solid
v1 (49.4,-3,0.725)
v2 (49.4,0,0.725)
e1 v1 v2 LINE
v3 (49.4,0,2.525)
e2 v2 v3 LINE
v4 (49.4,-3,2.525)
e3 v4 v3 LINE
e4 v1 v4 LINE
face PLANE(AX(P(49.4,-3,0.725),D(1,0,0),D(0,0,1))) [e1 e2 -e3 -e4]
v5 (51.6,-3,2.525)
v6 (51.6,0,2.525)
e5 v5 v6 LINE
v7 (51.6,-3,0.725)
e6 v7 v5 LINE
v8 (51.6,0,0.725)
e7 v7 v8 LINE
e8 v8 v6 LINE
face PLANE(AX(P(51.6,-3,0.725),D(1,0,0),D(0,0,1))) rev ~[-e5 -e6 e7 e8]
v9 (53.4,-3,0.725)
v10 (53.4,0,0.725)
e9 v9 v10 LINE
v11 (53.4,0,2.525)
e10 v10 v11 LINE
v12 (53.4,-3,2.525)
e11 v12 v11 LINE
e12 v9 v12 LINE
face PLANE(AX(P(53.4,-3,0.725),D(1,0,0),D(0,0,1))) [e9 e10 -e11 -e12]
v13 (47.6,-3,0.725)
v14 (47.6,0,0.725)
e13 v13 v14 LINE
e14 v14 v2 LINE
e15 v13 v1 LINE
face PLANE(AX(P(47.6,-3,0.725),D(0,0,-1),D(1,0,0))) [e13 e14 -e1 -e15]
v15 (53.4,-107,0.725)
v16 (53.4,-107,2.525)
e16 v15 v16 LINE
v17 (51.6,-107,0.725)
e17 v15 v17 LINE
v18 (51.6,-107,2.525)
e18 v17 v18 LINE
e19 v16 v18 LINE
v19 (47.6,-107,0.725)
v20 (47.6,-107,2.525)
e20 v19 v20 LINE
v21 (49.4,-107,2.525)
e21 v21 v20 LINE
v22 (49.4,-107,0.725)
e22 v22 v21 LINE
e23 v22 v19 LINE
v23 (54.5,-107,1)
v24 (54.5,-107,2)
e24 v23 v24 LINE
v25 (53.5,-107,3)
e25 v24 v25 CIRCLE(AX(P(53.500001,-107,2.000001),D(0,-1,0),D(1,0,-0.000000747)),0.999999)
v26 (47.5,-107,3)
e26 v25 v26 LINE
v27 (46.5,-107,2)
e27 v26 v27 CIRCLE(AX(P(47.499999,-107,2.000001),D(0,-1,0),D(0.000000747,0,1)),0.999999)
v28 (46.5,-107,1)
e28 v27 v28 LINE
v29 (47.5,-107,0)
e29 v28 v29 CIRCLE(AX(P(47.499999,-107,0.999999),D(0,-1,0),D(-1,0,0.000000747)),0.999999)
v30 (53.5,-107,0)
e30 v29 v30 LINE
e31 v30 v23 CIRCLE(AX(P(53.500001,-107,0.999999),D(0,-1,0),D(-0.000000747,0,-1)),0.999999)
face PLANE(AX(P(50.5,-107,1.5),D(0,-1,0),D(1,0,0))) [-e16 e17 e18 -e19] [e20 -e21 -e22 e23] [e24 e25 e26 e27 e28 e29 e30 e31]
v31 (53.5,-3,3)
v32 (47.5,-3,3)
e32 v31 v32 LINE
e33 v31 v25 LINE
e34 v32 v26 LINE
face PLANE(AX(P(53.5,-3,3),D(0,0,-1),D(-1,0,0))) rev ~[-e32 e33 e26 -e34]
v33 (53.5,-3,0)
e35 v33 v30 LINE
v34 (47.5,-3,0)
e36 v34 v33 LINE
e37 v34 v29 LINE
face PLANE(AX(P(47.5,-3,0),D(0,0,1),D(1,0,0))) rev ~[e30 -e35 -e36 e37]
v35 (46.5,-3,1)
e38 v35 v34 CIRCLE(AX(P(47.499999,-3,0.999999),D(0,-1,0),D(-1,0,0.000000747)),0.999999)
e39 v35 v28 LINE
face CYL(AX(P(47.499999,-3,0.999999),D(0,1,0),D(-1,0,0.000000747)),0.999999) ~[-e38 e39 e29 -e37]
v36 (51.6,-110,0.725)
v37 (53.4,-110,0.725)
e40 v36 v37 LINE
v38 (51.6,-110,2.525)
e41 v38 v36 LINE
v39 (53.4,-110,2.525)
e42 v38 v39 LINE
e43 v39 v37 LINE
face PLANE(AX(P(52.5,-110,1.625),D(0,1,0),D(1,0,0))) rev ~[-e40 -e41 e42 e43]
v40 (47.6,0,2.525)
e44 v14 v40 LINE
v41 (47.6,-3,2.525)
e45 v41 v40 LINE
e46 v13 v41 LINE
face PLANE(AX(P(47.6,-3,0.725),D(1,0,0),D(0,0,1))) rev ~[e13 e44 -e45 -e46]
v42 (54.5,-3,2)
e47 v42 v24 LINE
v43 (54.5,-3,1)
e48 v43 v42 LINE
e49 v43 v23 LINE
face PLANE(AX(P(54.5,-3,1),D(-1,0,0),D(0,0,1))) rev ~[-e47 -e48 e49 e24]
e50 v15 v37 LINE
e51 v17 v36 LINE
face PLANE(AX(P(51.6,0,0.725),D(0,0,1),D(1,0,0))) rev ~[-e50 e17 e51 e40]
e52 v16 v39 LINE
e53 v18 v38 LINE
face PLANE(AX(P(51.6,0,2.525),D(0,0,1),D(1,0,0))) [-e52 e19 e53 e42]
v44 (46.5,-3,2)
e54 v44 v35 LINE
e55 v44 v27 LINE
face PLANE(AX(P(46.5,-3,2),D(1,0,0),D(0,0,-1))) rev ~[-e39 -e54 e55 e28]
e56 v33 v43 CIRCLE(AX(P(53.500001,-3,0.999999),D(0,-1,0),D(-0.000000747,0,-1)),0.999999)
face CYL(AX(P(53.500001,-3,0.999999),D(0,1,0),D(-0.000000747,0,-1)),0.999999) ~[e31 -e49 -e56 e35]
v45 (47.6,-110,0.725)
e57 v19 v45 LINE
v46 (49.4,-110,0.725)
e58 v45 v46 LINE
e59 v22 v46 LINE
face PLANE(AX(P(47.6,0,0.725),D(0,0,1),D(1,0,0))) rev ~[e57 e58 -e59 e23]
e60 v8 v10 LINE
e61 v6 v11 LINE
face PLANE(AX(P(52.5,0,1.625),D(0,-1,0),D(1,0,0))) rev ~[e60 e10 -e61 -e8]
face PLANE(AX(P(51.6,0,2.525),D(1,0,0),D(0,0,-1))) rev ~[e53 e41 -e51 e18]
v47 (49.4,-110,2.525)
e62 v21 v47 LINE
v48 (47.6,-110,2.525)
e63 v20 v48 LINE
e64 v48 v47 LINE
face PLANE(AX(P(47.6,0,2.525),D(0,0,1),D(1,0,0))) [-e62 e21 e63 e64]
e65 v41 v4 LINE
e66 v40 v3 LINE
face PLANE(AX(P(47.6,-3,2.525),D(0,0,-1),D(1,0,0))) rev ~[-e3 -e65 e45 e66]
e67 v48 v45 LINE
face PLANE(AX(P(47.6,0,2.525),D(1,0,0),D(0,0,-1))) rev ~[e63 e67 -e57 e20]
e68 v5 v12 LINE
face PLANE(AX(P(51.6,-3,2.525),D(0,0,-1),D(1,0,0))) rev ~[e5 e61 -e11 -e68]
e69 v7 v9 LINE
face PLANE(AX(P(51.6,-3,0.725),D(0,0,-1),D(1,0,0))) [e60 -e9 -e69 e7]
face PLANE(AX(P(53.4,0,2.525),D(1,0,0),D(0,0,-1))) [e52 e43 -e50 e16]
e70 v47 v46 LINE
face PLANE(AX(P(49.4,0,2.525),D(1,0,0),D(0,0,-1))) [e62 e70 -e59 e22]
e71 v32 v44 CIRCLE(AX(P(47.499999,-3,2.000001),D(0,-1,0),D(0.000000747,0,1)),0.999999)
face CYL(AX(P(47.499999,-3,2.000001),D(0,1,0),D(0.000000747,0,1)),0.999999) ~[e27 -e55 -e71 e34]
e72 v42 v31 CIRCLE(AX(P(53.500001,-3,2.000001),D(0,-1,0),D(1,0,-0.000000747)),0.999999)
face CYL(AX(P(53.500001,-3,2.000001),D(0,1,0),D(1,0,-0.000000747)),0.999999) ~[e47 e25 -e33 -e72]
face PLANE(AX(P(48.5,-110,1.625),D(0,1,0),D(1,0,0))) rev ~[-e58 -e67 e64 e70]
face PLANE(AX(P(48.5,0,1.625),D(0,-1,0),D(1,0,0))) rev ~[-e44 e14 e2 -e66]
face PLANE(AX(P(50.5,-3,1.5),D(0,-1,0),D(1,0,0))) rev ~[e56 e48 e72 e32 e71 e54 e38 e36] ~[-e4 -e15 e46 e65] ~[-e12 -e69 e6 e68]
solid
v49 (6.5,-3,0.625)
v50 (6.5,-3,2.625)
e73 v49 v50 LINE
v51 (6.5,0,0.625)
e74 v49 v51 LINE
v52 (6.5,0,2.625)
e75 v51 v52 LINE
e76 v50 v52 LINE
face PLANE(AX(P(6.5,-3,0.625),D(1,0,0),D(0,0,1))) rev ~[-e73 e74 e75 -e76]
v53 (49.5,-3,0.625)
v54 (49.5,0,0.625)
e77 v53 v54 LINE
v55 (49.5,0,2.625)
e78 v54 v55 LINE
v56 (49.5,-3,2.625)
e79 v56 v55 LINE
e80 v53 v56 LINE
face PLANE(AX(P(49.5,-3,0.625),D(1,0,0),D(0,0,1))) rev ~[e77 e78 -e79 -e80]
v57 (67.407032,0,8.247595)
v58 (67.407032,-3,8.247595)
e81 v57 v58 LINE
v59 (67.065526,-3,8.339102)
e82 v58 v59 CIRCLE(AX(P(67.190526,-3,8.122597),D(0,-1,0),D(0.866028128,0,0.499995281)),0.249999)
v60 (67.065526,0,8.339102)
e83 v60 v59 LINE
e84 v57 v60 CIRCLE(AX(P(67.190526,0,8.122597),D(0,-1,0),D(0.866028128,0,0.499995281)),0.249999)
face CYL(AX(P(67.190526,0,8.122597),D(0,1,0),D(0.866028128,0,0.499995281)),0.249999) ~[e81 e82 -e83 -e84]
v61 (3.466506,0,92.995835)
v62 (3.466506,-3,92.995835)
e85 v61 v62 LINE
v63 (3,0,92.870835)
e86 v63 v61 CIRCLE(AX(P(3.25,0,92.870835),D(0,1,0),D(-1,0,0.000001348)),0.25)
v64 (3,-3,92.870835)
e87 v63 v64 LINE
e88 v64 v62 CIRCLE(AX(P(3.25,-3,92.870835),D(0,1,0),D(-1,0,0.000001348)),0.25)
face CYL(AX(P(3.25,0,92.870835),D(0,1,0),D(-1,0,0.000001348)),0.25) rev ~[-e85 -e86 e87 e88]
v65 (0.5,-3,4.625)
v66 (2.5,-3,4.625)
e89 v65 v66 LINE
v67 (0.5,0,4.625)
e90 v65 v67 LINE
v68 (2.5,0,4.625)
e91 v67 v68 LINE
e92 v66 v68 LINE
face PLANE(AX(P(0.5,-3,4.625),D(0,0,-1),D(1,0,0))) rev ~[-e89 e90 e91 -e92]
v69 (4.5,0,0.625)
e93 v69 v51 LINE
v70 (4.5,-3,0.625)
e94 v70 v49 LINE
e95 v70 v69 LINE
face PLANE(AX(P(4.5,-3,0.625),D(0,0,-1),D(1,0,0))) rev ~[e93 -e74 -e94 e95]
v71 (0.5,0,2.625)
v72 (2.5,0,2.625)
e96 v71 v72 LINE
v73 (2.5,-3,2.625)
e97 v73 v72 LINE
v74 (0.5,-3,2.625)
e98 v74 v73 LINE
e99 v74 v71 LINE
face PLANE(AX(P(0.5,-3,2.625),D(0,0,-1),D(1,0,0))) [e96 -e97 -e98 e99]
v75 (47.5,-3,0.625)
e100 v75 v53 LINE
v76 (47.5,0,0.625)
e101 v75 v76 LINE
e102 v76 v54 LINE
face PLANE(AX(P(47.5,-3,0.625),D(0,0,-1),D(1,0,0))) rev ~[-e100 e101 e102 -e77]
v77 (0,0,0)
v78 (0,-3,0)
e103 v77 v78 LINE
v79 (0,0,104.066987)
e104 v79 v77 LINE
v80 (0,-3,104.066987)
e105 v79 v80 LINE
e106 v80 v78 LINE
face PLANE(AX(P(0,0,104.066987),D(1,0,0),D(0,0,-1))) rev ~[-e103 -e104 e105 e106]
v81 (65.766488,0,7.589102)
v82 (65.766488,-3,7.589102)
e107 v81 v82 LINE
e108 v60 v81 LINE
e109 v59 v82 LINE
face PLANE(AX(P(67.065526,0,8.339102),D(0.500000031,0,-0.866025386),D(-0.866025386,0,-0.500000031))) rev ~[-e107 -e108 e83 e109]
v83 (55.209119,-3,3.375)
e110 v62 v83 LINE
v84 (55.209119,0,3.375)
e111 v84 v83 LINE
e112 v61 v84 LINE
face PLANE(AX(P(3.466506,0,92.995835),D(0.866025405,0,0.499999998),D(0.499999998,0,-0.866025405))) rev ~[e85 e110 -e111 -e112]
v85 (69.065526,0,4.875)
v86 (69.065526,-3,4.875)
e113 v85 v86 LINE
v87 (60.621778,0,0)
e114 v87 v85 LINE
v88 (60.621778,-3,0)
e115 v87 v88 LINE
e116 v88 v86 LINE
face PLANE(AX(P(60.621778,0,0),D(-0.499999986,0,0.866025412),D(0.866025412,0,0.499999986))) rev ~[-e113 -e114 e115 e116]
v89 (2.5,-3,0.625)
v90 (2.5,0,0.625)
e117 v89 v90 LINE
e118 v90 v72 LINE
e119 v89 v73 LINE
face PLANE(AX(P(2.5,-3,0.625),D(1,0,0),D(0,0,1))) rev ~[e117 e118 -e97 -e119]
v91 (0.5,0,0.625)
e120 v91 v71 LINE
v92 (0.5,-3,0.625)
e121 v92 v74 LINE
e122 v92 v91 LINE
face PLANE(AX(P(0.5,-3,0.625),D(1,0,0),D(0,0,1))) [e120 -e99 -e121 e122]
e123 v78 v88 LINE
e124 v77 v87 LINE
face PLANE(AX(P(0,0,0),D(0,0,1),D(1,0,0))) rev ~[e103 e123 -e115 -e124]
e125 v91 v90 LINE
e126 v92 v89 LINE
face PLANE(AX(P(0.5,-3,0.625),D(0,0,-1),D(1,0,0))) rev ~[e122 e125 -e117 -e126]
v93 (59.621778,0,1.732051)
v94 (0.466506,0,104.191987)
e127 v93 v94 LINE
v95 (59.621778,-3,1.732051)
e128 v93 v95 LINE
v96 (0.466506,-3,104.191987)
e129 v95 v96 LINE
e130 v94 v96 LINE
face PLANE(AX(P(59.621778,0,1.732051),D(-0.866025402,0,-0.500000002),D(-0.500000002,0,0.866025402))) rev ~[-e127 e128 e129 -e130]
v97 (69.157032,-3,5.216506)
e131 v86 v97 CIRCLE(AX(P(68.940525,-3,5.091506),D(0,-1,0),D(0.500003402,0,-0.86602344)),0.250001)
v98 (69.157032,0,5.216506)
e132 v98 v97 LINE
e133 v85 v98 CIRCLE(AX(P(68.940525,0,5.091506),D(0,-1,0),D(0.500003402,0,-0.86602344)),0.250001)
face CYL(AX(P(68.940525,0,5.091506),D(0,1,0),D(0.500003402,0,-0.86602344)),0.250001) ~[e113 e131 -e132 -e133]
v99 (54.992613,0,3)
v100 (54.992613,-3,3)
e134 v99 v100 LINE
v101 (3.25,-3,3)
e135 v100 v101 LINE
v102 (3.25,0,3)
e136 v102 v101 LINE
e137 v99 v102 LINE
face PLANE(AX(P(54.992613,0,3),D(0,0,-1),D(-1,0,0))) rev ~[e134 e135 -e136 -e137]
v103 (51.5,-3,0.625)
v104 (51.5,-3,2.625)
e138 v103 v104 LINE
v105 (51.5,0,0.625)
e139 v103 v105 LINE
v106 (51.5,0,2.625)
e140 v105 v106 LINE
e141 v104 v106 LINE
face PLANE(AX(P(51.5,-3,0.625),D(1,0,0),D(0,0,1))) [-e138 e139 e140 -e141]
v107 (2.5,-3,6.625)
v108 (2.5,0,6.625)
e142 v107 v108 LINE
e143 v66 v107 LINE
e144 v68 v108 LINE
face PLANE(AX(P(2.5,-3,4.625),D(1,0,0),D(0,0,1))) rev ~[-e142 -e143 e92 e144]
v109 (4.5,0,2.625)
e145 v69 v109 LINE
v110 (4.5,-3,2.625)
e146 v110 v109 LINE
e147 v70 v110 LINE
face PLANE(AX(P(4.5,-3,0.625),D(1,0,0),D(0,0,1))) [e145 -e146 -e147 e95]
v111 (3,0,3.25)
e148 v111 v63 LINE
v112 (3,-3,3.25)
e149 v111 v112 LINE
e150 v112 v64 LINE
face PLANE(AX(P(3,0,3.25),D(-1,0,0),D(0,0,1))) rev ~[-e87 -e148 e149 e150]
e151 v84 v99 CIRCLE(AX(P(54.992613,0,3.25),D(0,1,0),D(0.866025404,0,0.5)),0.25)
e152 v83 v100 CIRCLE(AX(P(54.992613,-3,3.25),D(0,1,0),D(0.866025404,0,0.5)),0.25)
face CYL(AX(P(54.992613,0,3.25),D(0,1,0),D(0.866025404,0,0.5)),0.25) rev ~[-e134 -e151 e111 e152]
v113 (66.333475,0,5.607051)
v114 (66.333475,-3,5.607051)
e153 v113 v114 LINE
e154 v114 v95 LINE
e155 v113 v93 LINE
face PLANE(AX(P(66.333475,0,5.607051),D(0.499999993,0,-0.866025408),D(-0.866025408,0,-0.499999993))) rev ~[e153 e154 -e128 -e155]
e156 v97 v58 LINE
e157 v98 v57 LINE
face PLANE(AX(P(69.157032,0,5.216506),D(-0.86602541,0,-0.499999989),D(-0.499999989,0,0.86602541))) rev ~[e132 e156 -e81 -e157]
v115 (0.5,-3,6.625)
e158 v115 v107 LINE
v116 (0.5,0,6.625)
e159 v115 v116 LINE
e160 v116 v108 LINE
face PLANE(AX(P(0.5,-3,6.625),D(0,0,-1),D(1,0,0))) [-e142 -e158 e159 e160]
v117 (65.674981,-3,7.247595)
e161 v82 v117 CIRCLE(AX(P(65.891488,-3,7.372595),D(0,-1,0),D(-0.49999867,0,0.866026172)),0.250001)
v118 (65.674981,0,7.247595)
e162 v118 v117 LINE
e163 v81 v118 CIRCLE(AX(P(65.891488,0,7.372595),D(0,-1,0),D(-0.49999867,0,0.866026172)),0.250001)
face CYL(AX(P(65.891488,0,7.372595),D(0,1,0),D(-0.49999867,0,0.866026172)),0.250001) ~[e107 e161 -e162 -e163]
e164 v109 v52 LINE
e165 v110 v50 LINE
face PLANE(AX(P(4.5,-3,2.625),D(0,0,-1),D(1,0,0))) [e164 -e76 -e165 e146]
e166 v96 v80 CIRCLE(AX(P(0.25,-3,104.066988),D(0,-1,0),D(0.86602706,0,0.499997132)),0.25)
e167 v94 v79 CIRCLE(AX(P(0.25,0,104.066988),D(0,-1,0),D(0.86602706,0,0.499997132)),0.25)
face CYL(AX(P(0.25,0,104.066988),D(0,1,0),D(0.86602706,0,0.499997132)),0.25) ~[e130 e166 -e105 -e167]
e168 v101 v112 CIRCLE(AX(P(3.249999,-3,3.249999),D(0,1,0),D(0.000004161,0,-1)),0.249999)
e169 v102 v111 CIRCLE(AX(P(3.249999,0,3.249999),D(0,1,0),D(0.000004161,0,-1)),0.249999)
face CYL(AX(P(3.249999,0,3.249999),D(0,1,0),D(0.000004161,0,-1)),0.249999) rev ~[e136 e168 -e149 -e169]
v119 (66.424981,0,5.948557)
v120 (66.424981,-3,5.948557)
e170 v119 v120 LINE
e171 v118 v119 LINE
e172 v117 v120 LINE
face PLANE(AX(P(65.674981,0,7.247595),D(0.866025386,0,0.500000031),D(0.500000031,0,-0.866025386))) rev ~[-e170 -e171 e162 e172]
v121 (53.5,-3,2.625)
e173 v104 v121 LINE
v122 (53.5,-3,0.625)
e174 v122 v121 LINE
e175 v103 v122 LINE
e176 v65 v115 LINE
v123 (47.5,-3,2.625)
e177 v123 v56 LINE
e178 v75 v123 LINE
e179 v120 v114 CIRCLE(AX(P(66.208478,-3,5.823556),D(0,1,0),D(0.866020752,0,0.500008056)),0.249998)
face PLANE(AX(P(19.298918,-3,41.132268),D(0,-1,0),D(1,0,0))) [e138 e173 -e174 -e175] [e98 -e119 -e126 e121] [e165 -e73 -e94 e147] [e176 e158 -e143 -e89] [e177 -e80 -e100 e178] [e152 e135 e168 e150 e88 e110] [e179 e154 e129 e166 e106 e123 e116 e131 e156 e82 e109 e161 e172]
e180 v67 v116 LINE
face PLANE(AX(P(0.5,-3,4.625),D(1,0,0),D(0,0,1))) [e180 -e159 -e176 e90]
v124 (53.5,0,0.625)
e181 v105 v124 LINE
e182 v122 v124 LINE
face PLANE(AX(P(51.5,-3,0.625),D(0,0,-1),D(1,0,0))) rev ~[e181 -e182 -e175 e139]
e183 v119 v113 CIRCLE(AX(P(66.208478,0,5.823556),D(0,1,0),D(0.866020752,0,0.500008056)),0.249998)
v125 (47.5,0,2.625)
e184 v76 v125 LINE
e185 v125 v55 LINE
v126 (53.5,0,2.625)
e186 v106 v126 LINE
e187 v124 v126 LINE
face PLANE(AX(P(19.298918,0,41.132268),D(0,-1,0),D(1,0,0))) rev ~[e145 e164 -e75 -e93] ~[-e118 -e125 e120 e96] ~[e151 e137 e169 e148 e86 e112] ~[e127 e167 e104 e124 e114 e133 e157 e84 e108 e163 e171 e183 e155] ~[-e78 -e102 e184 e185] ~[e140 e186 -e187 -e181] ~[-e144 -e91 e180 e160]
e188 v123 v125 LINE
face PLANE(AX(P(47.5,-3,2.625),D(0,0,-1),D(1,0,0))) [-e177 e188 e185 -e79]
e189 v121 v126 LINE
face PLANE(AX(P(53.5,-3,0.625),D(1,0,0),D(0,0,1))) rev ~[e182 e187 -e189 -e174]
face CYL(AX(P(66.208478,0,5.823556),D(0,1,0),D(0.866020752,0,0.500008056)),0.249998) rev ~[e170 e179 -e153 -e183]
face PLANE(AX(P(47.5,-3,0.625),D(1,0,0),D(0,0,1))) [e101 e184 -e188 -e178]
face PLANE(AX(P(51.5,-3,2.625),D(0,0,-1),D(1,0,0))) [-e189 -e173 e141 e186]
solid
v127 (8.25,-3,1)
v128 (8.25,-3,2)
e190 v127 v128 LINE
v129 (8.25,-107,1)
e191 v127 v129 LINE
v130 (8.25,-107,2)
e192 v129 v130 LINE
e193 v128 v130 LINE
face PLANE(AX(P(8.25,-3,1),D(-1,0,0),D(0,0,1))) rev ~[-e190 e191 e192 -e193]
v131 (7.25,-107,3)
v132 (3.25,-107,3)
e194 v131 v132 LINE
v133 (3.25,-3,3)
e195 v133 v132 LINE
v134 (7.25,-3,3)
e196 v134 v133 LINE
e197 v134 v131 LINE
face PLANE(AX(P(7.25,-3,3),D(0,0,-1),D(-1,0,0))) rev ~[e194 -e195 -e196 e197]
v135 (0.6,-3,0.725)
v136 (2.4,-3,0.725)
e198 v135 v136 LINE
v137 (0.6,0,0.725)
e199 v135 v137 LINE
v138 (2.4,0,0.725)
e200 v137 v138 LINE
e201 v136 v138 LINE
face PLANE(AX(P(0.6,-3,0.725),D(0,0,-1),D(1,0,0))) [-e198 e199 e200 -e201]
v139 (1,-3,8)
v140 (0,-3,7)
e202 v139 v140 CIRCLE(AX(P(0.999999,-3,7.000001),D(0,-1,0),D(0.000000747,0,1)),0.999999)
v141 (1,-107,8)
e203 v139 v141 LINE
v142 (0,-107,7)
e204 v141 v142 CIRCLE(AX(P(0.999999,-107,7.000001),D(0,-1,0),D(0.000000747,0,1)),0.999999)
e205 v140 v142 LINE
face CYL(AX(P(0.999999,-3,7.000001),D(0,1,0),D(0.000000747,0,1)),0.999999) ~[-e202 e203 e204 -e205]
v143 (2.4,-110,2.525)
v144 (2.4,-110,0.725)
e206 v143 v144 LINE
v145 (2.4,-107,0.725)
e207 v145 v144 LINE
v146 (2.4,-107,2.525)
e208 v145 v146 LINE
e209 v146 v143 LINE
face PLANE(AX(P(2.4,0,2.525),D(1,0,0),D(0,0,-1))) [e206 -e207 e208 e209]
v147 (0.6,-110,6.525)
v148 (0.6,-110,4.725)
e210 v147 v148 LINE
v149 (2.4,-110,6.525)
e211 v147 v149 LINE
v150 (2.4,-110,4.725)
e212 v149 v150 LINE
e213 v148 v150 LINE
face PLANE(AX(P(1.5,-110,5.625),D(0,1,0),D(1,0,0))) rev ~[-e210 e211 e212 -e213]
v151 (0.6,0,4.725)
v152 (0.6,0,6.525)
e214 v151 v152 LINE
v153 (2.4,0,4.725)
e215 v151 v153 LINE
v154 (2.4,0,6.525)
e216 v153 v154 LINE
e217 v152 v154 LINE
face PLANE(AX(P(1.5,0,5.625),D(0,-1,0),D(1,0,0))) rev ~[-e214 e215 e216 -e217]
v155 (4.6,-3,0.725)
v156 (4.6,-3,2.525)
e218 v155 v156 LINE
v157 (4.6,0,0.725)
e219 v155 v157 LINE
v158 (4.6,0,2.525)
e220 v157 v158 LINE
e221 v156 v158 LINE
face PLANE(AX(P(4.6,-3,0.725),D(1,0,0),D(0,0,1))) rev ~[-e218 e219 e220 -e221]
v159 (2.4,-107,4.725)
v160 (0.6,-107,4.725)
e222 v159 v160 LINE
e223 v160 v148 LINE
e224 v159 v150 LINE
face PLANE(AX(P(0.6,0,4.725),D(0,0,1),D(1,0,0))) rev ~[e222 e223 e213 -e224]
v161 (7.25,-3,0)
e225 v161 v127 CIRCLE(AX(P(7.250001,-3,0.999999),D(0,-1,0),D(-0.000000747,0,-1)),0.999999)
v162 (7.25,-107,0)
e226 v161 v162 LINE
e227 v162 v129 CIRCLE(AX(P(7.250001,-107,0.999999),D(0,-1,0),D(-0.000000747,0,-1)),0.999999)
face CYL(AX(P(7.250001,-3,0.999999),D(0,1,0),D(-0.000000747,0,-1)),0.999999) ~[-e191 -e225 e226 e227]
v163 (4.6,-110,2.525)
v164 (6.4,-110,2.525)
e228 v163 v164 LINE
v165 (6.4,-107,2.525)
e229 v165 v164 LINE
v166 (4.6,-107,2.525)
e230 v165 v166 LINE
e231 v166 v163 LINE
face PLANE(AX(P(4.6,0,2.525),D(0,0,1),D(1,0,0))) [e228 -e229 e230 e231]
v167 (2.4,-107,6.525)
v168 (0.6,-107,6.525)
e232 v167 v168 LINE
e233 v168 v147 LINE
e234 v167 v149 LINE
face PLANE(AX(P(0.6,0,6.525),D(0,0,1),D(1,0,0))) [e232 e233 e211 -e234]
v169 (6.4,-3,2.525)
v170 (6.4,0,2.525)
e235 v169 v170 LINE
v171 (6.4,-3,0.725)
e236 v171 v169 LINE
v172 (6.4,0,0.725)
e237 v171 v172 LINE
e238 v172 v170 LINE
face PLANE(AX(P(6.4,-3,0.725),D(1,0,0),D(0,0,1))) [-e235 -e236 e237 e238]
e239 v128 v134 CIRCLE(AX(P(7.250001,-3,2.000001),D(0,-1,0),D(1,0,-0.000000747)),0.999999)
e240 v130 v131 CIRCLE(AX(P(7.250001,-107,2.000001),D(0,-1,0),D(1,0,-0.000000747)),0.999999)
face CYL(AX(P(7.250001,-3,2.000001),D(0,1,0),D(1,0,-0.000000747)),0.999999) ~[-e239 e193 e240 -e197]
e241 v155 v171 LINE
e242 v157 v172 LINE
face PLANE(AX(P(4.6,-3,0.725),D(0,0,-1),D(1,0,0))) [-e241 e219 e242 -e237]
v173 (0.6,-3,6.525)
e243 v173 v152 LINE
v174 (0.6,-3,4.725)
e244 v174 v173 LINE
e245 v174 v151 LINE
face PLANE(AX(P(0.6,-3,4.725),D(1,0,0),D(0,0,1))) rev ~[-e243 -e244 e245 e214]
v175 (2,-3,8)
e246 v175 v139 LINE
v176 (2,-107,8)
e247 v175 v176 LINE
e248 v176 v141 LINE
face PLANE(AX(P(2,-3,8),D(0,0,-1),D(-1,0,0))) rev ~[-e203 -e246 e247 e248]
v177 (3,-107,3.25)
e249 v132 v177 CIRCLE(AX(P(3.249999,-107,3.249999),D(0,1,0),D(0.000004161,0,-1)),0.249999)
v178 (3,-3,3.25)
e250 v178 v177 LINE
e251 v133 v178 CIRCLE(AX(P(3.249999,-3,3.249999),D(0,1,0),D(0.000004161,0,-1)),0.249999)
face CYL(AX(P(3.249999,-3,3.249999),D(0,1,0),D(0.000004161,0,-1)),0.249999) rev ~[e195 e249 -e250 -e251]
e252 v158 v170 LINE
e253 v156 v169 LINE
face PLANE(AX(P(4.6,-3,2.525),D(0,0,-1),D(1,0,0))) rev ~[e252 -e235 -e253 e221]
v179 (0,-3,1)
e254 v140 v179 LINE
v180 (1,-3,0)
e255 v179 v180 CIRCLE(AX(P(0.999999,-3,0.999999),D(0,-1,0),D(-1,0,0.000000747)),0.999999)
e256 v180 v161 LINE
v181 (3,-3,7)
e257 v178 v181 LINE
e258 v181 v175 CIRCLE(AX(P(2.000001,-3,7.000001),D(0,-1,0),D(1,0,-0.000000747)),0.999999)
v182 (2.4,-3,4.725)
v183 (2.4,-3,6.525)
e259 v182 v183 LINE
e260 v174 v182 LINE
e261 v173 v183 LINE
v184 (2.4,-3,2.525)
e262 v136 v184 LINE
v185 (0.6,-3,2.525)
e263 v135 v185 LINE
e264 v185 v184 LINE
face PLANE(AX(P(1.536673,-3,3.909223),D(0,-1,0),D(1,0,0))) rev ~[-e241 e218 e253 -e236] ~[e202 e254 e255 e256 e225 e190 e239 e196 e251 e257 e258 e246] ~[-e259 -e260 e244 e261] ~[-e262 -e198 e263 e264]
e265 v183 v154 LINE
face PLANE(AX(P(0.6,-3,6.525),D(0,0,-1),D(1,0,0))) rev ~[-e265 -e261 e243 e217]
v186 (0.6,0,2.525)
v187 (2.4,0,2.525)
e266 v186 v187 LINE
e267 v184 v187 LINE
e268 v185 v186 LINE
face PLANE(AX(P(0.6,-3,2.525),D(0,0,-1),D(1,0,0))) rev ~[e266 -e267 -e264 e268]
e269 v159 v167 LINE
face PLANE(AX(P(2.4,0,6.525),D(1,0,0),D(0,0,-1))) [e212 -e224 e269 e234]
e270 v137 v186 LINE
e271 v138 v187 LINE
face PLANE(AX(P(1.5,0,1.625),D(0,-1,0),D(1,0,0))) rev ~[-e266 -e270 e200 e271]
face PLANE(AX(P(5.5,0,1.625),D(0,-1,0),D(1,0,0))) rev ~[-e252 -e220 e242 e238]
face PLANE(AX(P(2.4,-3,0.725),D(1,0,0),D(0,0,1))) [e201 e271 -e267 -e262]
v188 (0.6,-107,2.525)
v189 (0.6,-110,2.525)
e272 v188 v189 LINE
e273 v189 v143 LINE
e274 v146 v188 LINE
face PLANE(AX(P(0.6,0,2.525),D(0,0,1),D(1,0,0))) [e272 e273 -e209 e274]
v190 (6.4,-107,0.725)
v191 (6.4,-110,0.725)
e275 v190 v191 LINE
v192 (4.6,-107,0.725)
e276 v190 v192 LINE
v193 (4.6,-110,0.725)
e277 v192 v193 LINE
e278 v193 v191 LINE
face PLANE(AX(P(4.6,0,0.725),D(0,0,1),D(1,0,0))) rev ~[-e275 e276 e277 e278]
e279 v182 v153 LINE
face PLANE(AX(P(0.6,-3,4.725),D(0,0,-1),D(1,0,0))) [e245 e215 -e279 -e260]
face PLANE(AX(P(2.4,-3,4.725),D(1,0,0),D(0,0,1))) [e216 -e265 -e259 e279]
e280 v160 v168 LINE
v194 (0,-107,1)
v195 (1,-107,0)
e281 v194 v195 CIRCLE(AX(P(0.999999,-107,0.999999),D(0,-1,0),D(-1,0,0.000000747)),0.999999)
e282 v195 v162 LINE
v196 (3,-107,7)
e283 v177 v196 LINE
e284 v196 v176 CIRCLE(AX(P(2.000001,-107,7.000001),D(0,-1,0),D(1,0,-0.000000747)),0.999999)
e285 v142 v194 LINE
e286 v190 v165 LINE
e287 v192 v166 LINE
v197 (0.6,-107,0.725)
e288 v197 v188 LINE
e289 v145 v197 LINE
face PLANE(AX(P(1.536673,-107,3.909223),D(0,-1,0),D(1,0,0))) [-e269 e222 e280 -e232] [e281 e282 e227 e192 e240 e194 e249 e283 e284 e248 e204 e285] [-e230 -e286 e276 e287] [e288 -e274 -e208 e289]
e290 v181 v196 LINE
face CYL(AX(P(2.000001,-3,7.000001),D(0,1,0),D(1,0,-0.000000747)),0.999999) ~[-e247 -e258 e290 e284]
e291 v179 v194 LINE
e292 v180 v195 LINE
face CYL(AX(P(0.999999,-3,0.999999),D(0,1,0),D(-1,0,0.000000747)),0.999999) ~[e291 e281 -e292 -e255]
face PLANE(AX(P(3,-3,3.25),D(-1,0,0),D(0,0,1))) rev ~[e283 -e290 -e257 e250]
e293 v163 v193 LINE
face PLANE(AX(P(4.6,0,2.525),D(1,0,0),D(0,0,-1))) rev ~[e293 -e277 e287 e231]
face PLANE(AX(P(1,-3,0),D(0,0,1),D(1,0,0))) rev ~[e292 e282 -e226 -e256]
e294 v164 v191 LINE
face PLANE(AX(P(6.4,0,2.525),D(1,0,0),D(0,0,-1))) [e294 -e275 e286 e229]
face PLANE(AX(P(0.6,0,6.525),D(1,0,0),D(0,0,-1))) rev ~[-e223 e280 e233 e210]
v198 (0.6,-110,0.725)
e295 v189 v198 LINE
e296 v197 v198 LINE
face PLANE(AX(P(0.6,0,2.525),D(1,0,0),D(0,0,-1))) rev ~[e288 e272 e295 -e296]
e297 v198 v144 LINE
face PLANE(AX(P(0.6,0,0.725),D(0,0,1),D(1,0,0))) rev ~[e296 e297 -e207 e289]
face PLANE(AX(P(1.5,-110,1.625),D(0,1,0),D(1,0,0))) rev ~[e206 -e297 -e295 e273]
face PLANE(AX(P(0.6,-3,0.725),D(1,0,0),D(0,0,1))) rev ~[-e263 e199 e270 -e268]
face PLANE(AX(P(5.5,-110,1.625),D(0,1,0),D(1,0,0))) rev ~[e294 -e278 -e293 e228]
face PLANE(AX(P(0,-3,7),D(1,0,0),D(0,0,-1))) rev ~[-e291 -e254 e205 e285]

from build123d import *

# Parameters (mm, degrees)
F1_DEPTH  = 3
F2_W      = 2
F2_H      = 2
F2_W_2    = 1.8
F2_H_2    = 1.8
F3_DEPTH  = 3
F5_DEPTH  = 104
F6_DEPTH  = 3
F7_DEPTH  = 3
F6_FACE_W = 1.8
F6_FACE_H = 1.8
F8_DEPTH  = 110
F7_FACE_W = 1.8
F7_FACE_H = 1.8
F9_DEPTH  = 110


with BuildPart() as f1:
    # F0 (on Front) → F1 (new body)
    with BuildSketch(Plane.XZ):
        with BuildLine():
            Line((0, 104.066987), (0, 0))
            Line((0, 0), (60.621778, 0))
            Line((60.621778, 0), (59.621778, 1.732051))
            Line((59.621778, 1.732051), (0.466506, 104.191987))
            ThreePointArc((0.466506, 104.191987), (0.185295, 104.308469), (0, 104.066987))
        make_face()
        with BuildLine():
            ThreePointArc((3, 92.870835), (3.185295, 93.112316), (3.466506, 92.995835))
            Line((3.466506, 92.995835), (55.209119, 3.375))
            ThreePointArc((55.209119, 3.375), (55.209119, 3.125), (54.992613, 3))
            Line((54.992613, 3), (3.25, 3))
            ThreePointArc((3.25, 3), (3.073223, 3.073223), (3, 3.25))
            Line((3, 3.25), (3, 92.870835))
        make_face(mode=Mode.SUBTRACT)
        with BuildLine():
            Line((59.621778, 1.732051), (60.621778, 0))
            Line((60.621778, 0), (69.065526, 4.875))
            ThreePointArc((69.065526, 4.875), (69.182007, 5.026802), (69.157032, 5.216506))
            Line((69.157032, 5.216506), (67.407032, 8.247595))
            ThreePointArc((67.407032, 8.247595), (67.255231, 8.364077), (67.065526, 8.339102))
            Line((67.065526, 8.339102), (65.766488, 7.589102))
            ThreePointArc((65.766488, 7.589102), (65.650006, 7.4373), (65.674981, 7.247595))
            Line((65.674981, 7.247595), (66.424981, 5.948557))
            ThreePointArc((66.424981, 5.948557), (66.449957, 5.758852), (66.333475, 5.607051))
            Line((66.333475, 5.607051), (59.621778, 1.732051))
        make_face()
    extrude(amount=F1_DEPTH)

    # F2 (on face) → F3 (cut, through all)
    with BuildSketch(Plane.XZ.offset(3)):
        with Locations((1.5, 1.625)):
            Rectangle(F2_W, F2_H)
        with Locations((1.5, 1.625)):
            Rectangle(F2_W_2, F2_H_2, mode=Mode.SUBTRACT)
        with Locations((1.5, 5.625)):
            Rectangle(F2_W, F2_H)
        with Locations((1.5, 5.625)):
            Rectangle(F2_W_2, F2_H_2, mode=Mode.SUBTRACT)
        with Locations((5.5, 1.625)):
            Rectangle(F2_W, F2_H)
        with Locations((5.5, 1.625)):
            Rectangle(F2_W_2, F2_H_2, mode=Mode.SUBTRACT)
        with Locations((52.5, 1.625)):
            Rectangle(F2_W, F2_H)
        with Locations((52.5, 1.625)):
            Rectangle(F2_W_2, F2_H_2, mode=Mode.SUBTRACT)
        with Locations((48.5, 1.625)):
            Rectangle(F2_W, F2_H)
        with Locations((48.5, 1.625)):
            Rectangle(F2_W_2, F2_H_2, mode=Mode.SUBTRACT)
        with Locations((1.5, 5.625)):
            Rectangle(F2_W_2, F2_H_2)
        with Locations((1.5, 1.625)):
            Rectangle(F2_W_2, F2_H_2)
        with Locations((5.5, 1.625)):
            Rectangle(F2_W_2, F2_H_2)
        with Locations((48.5, 1.625)):
            Rectangle(F2_W_2, F2_H_2)
        with Locations((52.5, 1.625)):
            Rectangle(F2_W_2, F2_H_2)
    extrude(amount=-F3_DEPTH, mode=Mode.SUBTRACT)


with BuildPart() as f5:
    # F4 (on face) → F5 (new body)
    with BuildSketch(Plane.XZ.offset(3)):
        with BuildLine():
            Line((2, 8), (1, 8))
            ThreePointArc((1, 8), (0.292893, 7.707107), (0, 7))
            Line((0, 7), (0, 1))
            ThreePointArc((0, 1), (0.292893, 0.292893), (1, 0))
            Line((1, 0), (3, 0))
            Line((3, 0), (3, 3.25))
            Line((3, 3.25), (3, 7))
            ThreePointArc((3, 7), (2.707107, 7.707107), (2, 8))
        make_face()
        with BuildLine():
            ThreePointArc((3.25, 3), (3.073223, 3.073223), (3, 3.25))
            Line((3, 3.25), (3, 0))
            Line((3, 0), (3.25, 0))
            Line((3.25, 0), (3.25, 3))
        make_face()
        with BuildLine():
            Line((7.25, 3), (3.25, 3))
            Line((3.25, 3), (3.25, 0))
            Line((3.25, 0), (7.25, 0))
            ThreePointArc((7.25, 0), (7.957107, 0.292893), (8.25, 1))
            Line((8.25, 1), (8.25, 2))
            ThreePointArc((8.25, 2), (7.957107, 2.707107), (7.25, 3))
        make_face()
        with BuildLine():
            Line((53.5, 3), (47.5, 3))
            ThreePointArc((47.5, 3), (46.792893, 2.707107), (46.5, 2))
            Line((46.5, 2), (46.5, 1))
            ThreePointArc((46.5, 1), (46.792893, 0.292893), (47.5, 0))
            Line((47.5, 0), (53.5, 0))
            ThreePointArc((53.5, 0), (54.207107, 0.292893), (54.5, 1))
            Line((54.5, 1), (54.5, 2))
            ThreePointArc((54.5, 2), (54.207107, 2.707107), (53.5, 3))
        make_face()
    extrude(amount=F5_DEPTH)

    # F2 (on face) → F6 (join)
    with BuildSketch(Plane.XZ.offset(3)):
        with Locations((1.5, 5.625)):
            Rectangle(F2_W_2, F2_H_2)
        with Locations((1.5, 1.625)):
            Rectangle(F2_W_2, F2_H_2)
        with Locations((5.5, 1.625)):
            Rectangle(F2_W_2, F2_H_2)
    extrude(amount=-F6_DEPTH)

    # F2 (on face) → F7 (join)
    with BuildSketch(Plane.XZ.offset(3)):
        with Locations((52.5, 1.625)):
            Rectangle(F2_W_2, F2_H_2)
        with Locations((48.5, 1.625)):
            Rectangle(F2_W_2, F2_H_2)
    extrude(amount=-F7_DEPTH)

    # F6_face (on face) → F8 (join)
    with BuildSketch(Plane(origin=(5.5, 0, 1.625), x_dir=(1, 0, 0), z_dir=(0, 1, 0))):
        Rectangle(F6_FACE_W, F6_FACE_H)
        with Locations((-4, 0)):
            Rectangle(F6_FACE_W, F6_FACE_H)
        with Locations((-4, -4)):
            Rectangle(F6_FACE_W, F6_FACE_H)
    extrude(amount=-F8_DEPTH)

    # F7_face (on face) → F9 (join)
    with BuildSketch(Plane(origin=(52.5, 0, 1.625), x_dir=(1, 0, 0), z_dir=(0, 1, 0))):
        Rectangle(F7_FACE_W, F7_FACE_H)
        with Locations((-4, 0)):
            Rectangle(F7_FACE_W, F7_FACE_H)
    extrude(amount=-F9_DEPTH)


solid = Compound([f1.part, f5.part])
